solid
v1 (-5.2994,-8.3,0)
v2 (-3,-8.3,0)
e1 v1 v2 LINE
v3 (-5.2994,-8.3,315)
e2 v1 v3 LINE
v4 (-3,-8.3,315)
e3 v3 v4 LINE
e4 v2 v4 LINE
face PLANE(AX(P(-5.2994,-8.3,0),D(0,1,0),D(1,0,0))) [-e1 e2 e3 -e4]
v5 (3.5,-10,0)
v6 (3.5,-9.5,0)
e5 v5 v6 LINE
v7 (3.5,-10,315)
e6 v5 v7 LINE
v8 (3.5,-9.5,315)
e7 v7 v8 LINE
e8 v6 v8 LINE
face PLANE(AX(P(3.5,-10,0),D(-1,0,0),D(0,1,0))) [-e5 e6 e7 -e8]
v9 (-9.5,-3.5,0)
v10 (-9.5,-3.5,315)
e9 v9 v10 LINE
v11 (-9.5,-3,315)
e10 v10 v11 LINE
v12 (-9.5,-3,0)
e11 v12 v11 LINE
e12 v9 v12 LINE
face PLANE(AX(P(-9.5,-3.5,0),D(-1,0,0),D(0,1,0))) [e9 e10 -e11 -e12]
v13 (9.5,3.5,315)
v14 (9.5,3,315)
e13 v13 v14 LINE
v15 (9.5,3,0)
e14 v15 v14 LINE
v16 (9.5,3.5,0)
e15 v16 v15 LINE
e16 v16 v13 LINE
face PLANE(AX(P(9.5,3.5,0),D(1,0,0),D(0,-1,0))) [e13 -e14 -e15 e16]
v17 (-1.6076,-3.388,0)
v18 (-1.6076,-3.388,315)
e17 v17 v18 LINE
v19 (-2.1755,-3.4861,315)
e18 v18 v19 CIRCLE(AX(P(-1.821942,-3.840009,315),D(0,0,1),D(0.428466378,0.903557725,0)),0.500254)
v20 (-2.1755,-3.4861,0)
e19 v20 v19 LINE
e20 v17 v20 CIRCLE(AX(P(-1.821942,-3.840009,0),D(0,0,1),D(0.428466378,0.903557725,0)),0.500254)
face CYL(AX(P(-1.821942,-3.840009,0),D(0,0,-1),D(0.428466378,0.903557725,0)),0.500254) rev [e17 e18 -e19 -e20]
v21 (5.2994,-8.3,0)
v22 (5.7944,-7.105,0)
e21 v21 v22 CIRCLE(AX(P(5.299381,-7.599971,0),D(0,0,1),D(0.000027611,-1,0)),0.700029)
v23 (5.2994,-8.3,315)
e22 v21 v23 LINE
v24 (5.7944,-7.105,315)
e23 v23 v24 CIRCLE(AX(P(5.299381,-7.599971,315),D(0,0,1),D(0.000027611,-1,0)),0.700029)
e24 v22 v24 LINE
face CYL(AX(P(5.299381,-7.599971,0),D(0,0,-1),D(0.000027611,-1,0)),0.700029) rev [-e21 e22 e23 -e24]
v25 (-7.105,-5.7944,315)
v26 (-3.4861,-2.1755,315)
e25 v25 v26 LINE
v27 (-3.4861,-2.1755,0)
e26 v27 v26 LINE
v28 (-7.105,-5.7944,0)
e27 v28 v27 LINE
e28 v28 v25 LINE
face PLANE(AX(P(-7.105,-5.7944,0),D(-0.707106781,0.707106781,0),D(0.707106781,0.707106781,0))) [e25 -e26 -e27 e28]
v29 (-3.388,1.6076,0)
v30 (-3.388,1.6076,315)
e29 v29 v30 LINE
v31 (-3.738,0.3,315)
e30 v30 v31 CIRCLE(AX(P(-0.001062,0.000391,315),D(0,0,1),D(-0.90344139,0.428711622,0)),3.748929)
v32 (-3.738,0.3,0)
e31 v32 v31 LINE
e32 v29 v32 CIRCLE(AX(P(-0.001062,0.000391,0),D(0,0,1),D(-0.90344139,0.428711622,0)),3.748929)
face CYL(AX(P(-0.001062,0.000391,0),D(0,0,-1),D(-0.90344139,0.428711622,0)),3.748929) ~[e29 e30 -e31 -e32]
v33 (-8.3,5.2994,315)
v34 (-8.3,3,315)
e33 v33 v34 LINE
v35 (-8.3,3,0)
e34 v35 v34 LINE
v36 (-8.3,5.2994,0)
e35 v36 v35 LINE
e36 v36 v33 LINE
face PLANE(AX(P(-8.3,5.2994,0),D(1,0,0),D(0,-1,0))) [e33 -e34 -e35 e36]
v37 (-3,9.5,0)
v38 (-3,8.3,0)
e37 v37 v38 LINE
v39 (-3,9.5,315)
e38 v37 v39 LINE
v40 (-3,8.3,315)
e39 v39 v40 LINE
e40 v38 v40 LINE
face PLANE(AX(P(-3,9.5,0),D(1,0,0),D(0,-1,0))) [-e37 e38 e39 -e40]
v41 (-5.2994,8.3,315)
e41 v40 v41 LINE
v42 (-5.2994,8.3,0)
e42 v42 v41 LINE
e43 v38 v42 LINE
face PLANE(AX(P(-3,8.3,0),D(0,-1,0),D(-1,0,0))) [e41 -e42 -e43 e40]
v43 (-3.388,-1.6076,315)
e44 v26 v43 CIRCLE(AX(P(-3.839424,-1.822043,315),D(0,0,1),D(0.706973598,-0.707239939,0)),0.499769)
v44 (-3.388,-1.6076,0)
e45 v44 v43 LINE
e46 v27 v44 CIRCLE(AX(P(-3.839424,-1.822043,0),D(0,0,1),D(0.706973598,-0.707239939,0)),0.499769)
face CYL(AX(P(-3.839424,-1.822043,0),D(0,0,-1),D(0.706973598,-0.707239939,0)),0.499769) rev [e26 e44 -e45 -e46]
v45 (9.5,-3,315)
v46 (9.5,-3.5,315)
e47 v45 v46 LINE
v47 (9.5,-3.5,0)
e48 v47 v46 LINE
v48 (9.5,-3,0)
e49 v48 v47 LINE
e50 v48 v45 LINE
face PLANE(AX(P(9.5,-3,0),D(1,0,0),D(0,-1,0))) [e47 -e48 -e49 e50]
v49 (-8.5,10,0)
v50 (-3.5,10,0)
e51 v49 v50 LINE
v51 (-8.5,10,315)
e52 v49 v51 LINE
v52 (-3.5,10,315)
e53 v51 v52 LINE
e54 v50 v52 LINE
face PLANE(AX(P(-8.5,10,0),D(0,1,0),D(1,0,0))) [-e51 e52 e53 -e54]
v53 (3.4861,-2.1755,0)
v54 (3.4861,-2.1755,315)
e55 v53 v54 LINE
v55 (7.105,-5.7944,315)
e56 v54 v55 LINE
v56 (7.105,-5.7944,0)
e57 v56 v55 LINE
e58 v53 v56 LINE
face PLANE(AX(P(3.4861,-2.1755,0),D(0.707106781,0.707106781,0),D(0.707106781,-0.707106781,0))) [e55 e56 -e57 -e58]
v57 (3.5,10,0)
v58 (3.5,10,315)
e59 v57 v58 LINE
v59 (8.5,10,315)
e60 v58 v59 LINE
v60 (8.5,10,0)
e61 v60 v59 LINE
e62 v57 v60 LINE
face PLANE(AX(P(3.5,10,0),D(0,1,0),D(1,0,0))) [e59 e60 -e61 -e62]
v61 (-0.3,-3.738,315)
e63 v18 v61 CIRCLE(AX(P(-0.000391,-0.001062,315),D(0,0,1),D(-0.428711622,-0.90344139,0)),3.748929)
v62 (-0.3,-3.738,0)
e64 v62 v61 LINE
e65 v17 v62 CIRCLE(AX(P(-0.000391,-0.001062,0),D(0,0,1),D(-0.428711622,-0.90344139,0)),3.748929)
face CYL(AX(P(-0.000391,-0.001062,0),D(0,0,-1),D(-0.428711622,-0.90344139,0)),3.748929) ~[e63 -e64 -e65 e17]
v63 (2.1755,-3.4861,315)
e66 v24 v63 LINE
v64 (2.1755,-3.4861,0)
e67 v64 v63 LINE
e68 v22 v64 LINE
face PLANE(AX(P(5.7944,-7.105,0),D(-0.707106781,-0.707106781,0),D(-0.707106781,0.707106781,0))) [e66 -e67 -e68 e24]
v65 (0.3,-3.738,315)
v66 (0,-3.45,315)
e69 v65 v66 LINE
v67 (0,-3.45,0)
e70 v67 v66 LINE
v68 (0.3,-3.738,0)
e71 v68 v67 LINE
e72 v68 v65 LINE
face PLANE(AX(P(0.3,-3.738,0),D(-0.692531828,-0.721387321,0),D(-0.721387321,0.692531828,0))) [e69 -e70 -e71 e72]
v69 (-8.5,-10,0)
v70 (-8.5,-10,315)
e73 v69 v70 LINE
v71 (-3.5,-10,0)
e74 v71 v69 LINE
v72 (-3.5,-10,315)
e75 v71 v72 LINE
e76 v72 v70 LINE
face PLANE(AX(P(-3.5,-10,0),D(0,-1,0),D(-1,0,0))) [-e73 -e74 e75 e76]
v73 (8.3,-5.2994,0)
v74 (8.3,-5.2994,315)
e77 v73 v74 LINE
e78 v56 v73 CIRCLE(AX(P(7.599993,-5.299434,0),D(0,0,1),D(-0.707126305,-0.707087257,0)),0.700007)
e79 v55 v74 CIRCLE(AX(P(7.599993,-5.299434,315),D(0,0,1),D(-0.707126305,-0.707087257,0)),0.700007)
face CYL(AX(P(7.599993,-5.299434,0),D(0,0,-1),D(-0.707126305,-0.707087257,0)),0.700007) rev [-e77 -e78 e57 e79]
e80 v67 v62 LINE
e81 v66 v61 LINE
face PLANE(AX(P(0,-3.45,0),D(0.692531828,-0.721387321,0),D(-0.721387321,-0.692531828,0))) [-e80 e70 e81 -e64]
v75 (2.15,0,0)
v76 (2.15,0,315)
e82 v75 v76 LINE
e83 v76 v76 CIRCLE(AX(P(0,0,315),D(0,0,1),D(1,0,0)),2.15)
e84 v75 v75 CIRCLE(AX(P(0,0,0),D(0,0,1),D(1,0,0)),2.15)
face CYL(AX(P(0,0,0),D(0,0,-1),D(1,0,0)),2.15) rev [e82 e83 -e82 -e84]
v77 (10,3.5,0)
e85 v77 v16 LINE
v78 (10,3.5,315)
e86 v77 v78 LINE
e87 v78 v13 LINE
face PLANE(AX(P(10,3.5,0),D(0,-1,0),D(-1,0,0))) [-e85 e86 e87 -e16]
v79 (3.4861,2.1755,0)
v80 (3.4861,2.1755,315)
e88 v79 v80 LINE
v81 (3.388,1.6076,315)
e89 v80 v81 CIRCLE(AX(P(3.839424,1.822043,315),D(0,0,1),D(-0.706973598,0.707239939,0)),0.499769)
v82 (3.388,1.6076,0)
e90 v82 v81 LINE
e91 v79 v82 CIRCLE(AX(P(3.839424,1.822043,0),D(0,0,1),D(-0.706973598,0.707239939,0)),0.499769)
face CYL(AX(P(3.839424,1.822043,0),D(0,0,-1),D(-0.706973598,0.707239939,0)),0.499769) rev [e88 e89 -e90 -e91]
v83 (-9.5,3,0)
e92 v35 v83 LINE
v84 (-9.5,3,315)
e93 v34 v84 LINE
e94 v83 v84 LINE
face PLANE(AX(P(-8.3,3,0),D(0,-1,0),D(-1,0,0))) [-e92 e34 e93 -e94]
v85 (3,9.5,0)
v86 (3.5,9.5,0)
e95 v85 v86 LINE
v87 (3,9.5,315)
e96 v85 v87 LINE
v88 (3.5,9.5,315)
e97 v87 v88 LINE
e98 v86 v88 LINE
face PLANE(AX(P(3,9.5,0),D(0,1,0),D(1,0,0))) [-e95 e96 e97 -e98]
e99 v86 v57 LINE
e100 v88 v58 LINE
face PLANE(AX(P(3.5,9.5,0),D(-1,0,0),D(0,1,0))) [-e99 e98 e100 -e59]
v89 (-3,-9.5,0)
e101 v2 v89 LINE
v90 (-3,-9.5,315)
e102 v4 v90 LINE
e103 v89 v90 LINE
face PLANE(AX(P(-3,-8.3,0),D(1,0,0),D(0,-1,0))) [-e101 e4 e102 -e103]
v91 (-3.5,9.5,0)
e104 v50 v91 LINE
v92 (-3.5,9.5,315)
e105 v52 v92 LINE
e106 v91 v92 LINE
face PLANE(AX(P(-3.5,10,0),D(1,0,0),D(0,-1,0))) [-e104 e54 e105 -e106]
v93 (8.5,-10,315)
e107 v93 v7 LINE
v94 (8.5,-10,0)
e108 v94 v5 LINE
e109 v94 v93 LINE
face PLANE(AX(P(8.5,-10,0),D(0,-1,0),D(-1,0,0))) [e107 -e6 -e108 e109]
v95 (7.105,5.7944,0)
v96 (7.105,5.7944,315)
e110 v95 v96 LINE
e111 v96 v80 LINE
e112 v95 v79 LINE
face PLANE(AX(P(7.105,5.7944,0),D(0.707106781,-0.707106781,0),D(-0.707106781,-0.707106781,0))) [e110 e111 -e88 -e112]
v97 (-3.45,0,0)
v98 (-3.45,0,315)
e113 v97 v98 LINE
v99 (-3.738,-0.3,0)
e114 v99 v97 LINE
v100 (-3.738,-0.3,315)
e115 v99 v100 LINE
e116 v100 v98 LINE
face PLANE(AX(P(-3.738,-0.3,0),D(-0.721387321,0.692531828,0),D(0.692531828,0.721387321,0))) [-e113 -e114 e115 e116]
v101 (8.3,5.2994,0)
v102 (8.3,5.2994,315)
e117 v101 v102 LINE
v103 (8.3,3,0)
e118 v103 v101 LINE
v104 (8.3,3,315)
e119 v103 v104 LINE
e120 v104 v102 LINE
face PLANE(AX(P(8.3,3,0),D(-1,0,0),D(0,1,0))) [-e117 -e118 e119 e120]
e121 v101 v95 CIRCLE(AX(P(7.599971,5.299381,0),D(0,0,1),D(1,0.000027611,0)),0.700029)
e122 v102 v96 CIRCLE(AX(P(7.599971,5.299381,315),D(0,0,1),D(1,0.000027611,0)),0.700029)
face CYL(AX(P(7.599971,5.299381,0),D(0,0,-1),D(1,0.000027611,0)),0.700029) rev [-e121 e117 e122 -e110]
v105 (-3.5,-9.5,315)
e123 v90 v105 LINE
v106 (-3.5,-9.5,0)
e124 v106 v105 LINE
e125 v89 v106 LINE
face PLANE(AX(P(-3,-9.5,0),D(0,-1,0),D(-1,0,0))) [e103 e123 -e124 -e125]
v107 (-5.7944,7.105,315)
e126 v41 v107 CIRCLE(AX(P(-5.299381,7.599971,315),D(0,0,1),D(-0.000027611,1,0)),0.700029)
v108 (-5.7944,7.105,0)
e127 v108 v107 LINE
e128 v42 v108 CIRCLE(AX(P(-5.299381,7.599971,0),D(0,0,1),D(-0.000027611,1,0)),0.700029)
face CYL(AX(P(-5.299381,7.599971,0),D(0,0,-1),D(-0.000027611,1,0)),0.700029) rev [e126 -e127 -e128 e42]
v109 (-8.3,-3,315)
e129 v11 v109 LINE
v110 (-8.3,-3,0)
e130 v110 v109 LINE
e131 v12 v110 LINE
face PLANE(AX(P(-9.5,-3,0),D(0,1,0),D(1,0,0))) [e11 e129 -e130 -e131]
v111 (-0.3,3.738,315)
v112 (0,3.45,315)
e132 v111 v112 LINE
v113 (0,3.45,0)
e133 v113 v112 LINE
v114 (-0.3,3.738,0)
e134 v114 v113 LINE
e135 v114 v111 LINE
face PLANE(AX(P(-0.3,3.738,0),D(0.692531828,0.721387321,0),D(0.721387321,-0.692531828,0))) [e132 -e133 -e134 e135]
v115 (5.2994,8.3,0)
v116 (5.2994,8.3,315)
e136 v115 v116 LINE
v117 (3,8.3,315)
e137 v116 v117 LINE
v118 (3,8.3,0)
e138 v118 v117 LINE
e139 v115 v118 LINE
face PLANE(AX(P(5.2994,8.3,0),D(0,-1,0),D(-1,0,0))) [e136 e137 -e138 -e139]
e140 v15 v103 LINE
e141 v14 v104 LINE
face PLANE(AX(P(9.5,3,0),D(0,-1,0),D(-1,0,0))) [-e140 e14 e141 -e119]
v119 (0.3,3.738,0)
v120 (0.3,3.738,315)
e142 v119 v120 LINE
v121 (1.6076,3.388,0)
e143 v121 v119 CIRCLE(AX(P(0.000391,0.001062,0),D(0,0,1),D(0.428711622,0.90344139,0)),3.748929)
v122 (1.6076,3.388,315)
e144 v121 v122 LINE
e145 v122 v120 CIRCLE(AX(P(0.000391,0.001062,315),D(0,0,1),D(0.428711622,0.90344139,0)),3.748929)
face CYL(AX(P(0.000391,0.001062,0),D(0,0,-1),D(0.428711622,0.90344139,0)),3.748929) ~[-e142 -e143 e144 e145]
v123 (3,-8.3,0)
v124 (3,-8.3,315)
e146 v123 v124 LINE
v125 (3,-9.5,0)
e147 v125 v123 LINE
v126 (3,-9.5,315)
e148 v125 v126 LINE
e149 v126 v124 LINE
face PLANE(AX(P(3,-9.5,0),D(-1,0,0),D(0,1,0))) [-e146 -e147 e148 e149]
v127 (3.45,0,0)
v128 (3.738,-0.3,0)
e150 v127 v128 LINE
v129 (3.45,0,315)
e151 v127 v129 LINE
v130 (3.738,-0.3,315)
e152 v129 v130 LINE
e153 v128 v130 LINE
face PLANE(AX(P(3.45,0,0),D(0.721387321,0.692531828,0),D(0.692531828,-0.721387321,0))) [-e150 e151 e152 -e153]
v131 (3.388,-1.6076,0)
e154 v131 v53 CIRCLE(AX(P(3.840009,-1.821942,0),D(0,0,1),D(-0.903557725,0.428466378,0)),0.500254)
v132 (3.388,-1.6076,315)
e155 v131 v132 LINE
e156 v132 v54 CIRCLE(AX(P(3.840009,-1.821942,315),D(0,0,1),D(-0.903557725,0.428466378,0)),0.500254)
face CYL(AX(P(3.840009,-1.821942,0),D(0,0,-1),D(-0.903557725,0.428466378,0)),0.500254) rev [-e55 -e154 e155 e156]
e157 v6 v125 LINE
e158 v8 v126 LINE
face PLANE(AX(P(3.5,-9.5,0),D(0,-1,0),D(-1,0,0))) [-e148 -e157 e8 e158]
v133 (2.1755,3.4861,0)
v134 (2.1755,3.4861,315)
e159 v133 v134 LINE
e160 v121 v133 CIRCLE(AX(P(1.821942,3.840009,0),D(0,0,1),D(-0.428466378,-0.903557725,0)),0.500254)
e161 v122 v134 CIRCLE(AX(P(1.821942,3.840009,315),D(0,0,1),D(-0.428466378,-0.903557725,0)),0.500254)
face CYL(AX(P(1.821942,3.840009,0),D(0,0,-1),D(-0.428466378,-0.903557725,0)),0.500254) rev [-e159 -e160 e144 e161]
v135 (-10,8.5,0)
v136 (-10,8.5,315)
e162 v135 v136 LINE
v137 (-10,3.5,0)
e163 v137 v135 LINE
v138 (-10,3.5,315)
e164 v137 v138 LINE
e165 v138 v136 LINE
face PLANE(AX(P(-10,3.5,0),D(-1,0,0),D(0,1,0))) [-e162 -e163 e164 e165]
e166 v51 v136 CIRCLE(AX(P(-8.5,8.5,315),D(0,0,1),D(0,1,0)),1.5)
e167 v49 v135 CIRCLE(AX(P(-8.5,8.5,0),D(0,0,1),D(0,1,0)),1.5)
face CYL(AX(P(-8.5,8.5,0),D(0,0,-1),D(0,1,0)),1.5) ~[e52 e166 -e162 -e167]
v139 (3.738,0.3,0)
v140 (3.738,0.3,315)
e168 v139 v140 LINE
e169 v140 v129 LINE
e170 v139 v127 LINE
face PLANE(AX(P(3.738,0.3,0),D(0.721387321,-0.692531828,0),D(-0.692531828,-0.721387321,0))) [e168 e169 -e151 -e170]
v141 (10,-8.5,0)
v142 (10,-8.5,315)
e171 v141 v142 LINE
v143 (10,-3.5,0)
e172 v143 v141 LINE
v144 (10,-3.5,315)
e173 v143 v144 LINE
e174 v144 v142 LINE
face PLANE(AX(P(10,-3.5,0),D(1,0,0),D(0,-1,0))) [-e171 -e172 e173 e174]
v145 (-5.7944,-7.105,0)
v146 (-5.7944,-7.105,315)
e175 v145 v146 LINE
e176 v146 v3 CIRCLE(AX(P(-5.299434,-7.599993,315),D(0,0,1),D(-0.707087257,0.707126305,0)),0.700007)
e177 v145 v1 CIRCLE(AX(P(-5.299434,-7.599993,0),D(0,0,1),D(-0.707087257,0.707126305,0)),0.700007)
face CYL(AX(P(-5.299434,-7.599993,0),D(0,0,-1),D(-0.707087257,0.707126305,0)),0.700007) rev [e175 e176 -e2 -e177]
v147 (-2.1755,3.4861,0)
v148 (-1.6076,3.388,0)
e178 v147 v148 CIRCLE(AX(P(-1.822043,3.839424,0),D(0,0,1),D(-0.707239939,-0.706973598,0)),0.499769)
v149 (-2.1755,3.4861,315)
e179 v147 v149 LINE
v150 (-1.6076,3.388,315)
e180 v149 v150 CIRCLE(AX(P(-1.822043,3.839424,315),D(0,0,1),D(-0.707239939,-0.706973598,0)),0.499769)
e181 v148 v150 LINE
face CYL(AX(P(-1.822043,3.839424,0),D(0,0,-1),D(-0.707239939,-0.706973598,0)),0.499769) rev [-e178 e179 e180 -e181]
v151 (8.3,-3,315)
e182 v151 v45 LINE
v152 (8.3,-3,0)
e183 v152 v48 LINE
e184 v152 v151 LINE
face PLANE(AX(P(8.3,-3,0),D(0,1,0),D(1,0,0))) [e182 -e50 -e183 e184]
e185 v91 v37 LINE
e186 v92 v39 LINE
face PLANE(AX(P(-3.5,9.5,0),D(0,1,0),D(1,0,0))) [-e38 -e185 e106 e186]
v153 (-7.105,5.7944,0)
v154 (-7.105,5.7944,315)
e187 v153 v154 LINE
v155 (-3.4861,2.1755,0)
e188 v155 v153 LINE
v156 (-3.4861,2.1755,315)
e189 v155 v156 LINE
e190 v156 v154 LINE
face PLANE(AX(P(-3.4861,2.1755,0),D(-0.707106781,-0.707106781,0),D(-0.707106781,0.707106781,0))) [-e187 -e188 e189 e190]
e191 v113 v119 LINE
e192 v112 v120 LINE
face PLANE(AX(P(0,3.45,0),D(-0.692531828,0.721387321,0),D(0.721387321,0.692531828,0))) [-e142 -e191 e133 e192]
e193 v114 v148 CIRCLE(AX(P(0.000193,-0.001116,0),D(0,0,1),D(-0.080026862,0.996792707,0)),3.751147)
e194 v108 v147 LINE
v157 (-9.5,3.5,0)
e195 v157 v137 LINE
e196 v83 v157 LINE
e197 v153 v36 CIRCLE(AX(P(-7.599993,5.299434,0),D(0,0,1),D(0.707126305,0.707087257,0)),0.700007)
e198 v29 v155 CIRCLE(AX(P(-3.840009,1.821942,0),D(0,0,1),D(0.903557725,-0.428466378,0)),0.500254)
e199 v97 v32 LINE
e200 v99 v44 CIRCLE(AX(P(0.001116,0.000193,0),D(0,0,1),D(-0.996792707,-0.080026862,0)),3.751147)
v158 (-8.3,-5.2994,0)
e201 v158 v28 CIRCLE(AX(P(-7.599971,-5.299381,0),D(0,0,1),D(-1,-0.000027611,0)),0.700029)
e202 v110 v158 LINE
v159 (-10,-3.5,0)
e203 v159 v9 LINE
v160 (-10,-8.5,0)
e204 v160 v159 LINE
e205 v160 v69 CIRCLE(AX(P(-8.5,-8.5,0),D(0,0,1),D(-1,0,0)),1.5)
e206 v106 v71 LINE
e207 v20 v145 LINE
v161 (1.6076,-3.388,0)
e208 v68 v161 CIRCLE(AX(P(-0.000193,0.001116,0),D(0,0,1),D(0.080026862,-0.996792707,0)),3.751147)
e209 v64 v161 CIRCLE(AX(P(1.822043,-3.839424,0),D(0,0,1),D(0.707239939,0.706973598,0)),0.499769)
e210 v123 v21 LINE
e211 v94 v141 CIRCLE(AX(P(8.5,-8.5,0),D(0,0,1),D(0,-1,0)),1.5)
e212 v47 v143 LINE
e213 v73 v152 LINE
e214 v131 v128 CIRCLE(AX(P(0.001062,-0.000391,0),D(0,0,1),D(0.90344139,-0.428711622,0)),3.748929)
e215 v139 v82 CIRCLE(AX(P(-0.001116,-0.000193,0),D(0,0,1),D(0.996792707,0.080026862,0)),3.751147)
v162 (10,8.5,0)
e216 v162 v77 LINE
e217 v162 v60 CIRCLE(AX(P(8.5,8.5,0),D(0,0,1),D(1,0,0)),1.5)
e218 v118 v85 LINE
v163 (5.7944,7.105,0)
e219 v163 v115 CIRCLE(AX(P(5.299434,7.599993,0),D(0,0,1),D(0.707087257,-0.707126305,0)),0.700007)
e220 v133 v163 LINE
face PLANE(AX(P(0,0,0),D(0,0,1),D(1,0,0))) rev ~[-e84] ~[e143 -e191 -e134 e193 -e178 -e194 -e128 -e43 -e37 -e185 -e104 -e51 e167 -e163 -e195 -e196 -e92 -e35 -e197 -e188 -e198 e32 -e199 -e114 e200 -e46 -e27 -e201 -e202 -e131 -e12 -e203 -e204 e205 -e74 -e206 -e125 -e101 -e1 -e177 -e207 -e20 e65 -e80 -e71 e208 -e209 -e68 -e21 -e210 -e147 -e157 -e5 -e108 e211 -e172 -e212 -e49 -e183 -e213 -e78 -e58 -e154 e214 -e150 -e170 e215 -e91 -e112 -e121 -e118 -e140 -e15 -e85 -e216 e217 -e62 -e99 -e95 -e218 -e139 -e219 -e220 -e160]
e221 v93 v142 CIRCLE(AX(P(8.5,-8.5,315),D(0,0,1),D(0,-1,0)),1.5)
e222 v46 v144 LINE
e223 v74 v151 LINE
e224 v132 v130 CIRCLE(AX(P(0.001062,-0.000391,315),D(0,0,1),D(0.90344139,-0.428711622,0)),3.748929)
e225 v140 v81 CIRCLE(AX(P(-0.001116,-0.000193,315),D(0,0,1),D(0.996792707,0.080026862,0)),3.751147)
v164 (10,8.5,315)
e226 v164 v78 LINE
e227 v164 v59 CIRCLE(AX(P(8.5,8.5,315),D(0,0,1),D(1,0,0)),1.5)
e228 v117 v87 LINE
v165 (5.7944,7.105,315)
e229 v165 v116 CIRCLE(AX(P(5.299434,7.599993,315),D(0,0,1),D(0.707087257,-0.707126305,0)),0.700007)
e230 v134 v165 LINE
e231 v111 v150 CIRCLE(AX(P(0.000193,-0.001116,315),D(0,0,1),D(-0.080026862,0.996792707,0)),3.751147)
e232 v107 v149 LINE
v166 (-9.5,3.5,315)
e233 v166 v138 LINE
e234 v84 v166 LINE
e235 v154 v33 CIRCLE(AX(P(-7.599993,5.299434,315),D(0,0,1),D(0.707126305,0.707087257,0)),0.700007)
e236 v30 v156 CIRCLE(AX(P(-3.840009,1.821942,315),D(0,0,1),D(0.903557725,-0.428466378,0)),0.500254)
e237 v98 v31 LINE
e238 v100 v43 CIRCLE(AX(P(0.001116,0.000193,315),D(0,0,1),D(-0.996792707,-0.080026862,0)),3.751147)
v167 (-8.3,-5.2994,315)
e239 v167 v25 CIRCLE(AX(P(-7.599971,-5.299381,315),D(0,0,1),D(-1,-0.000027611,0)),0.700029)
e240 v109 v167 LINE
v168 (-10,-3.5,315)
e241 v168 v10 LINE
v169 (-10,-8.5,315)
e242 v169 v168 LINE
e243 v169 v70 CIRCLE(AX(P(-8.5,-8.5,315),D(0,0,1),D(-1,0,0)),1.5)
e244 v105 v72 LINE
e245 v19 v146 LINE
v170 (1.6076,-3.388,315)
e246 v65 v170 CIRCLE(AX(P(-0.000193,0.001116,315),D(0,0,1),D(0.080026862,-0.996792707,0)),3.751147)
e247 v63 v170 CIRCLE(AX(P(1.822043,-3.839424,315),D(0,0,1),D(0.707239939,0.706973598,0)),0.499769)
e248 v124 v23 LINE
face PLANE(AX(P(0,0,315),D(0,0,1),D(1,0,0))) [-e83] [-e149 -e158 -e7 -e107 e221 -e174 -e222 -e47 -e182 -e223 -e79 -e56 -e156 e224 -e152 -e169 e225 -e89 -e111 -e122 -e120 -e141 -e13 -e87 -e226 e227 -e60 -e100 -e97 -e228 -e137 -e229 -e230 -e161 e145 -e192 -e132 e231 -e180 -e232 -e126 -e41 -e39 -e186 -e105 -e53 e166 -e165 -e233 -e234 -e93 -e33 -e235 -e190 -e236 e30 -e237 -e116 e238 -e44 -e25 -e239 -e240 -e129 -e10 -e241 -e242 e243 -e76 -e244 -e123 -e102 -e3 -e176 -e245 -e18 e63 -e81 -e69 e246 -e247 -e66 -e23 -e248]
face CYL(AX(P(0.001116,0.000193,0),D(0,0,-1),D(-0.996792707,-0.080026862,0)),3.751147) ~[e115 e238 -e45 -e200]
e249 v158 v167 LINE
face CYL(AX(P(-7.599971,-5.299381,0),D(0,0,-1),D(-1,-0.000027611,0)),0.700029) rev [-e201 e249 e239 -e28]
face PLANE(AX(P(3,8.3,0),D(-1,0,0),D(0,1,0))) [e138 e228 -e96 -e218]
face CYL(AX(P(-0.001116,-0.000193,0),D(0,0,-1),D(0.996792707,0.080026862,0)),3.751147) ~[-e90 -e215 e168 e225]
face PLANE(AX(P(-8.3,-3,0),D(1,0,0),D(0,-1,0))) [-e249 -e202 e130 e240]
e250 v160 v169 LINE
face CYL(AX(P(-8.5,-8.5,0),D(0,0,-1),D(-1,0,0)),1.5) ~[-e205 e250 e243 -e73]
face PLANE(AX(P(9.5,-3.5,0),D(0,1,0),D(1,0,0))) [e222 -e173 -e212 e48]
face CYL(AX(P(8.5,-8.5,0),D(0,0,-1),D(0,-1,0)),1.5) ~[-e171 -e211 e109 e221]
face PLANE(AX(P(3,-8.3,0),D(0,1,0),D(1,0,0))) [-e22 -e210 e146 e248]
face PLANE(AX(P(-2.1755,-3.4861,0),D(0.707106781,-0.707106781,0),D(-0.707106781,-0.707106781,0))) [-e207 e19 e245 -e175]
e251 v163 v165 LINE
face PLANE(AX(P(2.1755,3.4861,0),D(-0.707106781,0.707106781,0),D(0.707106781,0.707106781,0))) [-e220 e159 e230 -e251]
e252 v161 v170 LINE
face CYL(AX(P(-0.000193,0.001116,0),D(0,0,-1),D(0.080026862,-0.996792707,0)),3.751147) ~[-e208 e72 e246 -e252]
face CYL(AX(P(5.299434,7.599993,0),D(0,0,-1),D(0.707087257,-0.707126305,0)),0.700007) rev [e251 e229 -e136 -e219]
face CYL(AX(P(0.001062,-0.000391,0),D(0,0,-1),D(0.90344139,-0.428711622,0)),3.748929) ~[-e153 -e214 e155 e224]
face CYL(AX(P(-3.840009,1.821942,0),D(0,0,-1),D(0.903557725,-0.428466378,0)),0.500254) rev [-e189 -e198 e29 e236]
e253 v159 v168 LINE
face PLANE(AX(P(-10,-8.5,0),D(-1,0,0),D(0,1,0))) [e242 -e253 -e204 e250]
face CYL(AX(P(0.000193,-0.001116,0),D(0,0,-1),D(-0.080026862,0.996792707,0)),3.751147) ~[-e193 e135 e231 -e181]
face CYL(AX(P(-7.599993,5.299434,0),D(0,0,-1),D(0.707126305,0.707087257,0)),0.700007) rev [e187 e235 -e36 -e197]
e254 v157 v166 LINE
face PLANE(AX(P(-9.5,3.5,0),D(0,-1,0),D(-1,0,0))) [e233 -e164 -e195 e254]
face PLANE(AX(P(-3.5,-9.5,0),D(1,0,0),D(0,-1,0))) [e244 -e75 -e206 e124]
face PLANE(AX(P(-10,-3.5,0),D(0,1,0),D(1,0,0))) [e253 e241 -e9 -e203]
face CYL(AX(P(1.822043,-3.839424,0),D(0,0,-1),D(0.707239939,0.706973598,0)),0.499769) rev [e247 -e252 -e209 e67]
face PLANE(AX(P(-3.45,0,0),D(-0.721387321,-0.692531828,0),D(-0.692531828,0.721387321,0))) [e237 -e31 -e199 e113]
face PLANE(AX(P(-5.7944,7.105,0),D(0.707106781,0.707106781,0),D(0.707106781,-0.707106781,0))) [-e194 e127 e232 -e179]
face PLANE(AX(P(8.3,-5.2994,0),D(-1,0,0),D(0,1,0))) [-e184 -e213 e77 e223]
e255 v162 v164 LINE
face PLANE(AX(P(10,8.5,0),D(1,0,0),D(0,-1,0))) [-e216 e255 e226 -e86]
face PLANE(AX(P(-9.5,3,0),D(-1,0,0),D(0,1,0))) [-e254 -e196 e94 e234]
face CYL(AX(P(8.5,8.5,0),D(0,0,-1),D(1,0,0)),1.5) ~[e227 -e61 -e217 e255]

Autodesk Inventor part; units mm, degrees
ref_plane "YZ Plane" through (0, 0, 0) normal (1, 0, 0) x (0, 1, 0)
ref_plane "XZ Plane" through (0, 0, 0) normal (0, 1, 0) x (-1, 0, 0)
ref_plane "XY Plane" through (0, 0, 0) normal (0, 0, 1) x (1, 0, 0)
sketch "Skizze1" plane through (0, 0, 0) normal (0, 0, 1) x (1, 0, 0)
  circle A0 centre (0, 0) radius 2.15
  line L0 (-3.5, -9.5) -> (-3.5, -10)
  line L1 (-3, -9.5) -> (-3.5, -9.5)
  line L2 (-3, -8.3) -> (-3, -9.5)
  line L3 (-5.2994, -8.3) -> (-3, -8.3)
  arc A1 (-5.7944, -7.105) -> (-5.2994, -8.3) centre (-5.2994, -7.6) ccw
  line L4 (-2.1755, -3.4861) -> (-5.7944, -7.105)
  arc A2 (-1.6076, -3.388) -> (-2.1755, -3.4861) centre (-1.8219, -3.8397) ccw
  arc A3 (-1.6076, -3.388) -> (-0.3, -3.738) centre (0, 0) ccw
  line L5 (0, -3.45) -> (-0.3, -3.738)
  line L6 (0.3, -3.738) -> (0, -3.45)
  arc A4 (0.3, -3.738) -> (1.6076, -3.388) centre (0, 0) ccw
  arc A5 (2.1755, -3.4861) -> (1.6076, -3.388) centre (1.8219, -3.8397) ccw
  line L7 (5.7944, -7.105) -> (2.1755, -3.4861)
  arc A6 (5.2994, -8.3) -> (5.7944, -7.105) centre (5.2994, -7.6) ccw
  line L8 (3, -8.3) -> (5.2994, -8.3)
  line L9 (3, -9.5) -> (3, -8.3)
  line L10 (3.5, -9.5) -> (3, -9.5)
  line L11 (3.5, -10) -> (3.5, -9.5)
  line L12 (8.5, -10) -> (3.5, -10)
  arc A7 (8.5, -10) -> (10, -8.5) centre (8.5, -8.5) ccw
  line L13 (10, -3.5) -> (10, -8.5)
  line L14 (9.5, -3.5) -> (10, -3.5)
  line L15 (9.5, -3) -> (9.5, -3.5)
  line L16 (8.3, -3) -> (9.5, -3)
  line L17 (8.3, -5.2994) -> (8.3, -3)
  arc A8 (7.105, -5.7944) -> (8.3, -5.2994) centre (7.6, -5.2994) ccw
  line L18 (3.4861, -2.1755) -> (7.105, -5.7944)
  arc A9 (3.388, -1.6076) -> (3.4861, -2.1755) centre (3.8397, -1.8219) ccw
  arc A10 (3.388, -1.6076) -> (3.738, -0.3) centre (0, 0) ccw
  line L19 (3.45, 0) -> (3.738, -0.3)
  line L20 (3.738, 0.3) -> (3.45, 0)
  arc A11 (3.738, 0.3) -> (3.388, 1.6076) centre (0, 0) ccw
  arc A12 (3.4861, 2.1755) -> (3.388, 1.6076) centre (3.8397, 1.8219) ccw
  line L21 (7.105, 5.7944) -> (3.4861, 2.1755)
  arc A13 (8.3, 5.2994) -> (7.105, 5.7944) centre (7.6, 5.2994) ccw
  line L22 (8.3, 3) -> (8.3, 5.2994)
  line L23 (9.5, 3) -> (8.3, 3)
  line L24 (9.5, 3.5) -> (9.5, 3)
  line L25 (10, 3.5) -> (9.5, 3.5)
  line L26 (10, 8.5) -> (10, 3.5)
  arc A14 (10, 8.5) -> (8.5, 10) centre (8.5, 8.5) ccw
  line L27 (3.5, 10) -> (8.5, 10)
  line L28 (3.5, 9.5) -> (3.5, 10)
  line L29 (3, 9.5) -> (3.5, 9.5)
  line L30 (3, 8.3) -> (3, 9.5)
  line L31 (5.2994, 8.3) -> (3, 8.3)
  arc A15 (5.7944, 7.105) -> (5.2994, 8.3) centre (5.2994, 7.6) ccw
  line L32 (2.1755, 3.4861) -> (5.7944, 7.105)
  arc A16 (1.6076, 3.388) -> (2.1755, 3.4861) centre (1.8219, 3.8397) ccw
  arc A17 (1.6076, 3.388) -> (0.3, 3.738) centre (0, 0) ccw
  line L33 (0, 3.45) -> (0.3, 3.738)
  line L34 (-0.3, 3.738) -> (0, 3.45)
  arc A18 (-0.3, 3.738) -> (-1.6076, 3.388) centre (0, 0) ccw
  arc A19 (-2.1755, 3.4861) -> (-1.6076, 3.388) centre (-1.8219, 3.8397) ccw
  line L35 (-5.7944, 7.105) -> (-2.1755, 3.4861)
  arc A20 (-5.2994, 8.3) -> (-5.7944, 7.105) centre (-5.2994, 7.6) ccw
  line L36 (-3, 8.3) -> (-5.2994, 8.3)
  line L37 (-3, 9.5) -> (-3, 8.3)
  line L38 (-3.5, 9.5) -> (-3, 9.5)
  line L39 (-3.5, 10) -> (-3.5, 9.5)
  line L40 (-8.5, 10) -> (-3.5, 10)
  arc A21 (-8.5, 10) -> (-10, 8.5) centre (-8.5, 8.5) ccw
  line L41 (-10, 3.5) -> (-10, 8.5)
  line L42 (-9.5, 3.5) -> (-10, 3.5)
  line L43 (-9.5, 3) -> (-9.5, 3.5)
  line L44 (-8.3, 3) -> (-9.5, 3)
  line L45 (-8.3, 5.2994) -> (-8.3, 3)
  arc A22 (-7.105, 5.7944) -> (-8.3, 5.2994) centre (-7.6, 5.2994) ccw
  line L46 (-3.4861, 2.1755) -> (-7.105, 5.7944)
  arc A23 (-3.388, 1.6076) -> (-3.4861, 2.1755) centre (-3.8397, 1.8219) ccw
  arc A24 (-3.388, 1.6076) -> (-3.738, 0.3) centre (0, 0) ccw
  line L47 (-3.45, 0) -> (-3.738, 0.3)
  line L48 (-3.738, -0.3) -> (-3.45, 0)
  arc A25 (-3.738, -0.3) -> (-3.388, -1.6076) centre (0, 0) ccw
  arc A26 (-3.4861, -2.1755) -> (-3.388, -1.6076) centre (-3.8397, -1.8219) ccw
  line L49 (-7.105, -5.7944) -> (-3.4861, -2.1755)
  arc A27 (-8.3, -5.2994) -> (-7.105, -5.7944) centre (-7.6, -5.2994) ccw
  line L50 (-8.3, -3) -> (-8.3, -5.2994)
  line L51 (-9.5, -3) -> (-8.3, -3)
  line L52 (-9.5, -3.5) -> (-9.5, -3)
  line L53 (-10, -3.5) -> (-9.5, -3.5)
  line L54 (-10, -8.5) -> (-10, -3.5)
  arc A28 (-10, -8.5) -> (-8.5, -10) centre (-8.5, -8.5) ccw
  line L55 (-3.5, -10) -> (-8.5, -10)
  point P0 (18.4588, -14.4564)
extrude "Extrusion1" add sketch "Skizze1" along normal blind 315
properties part number "400mm" material "Aluminium 6061"
